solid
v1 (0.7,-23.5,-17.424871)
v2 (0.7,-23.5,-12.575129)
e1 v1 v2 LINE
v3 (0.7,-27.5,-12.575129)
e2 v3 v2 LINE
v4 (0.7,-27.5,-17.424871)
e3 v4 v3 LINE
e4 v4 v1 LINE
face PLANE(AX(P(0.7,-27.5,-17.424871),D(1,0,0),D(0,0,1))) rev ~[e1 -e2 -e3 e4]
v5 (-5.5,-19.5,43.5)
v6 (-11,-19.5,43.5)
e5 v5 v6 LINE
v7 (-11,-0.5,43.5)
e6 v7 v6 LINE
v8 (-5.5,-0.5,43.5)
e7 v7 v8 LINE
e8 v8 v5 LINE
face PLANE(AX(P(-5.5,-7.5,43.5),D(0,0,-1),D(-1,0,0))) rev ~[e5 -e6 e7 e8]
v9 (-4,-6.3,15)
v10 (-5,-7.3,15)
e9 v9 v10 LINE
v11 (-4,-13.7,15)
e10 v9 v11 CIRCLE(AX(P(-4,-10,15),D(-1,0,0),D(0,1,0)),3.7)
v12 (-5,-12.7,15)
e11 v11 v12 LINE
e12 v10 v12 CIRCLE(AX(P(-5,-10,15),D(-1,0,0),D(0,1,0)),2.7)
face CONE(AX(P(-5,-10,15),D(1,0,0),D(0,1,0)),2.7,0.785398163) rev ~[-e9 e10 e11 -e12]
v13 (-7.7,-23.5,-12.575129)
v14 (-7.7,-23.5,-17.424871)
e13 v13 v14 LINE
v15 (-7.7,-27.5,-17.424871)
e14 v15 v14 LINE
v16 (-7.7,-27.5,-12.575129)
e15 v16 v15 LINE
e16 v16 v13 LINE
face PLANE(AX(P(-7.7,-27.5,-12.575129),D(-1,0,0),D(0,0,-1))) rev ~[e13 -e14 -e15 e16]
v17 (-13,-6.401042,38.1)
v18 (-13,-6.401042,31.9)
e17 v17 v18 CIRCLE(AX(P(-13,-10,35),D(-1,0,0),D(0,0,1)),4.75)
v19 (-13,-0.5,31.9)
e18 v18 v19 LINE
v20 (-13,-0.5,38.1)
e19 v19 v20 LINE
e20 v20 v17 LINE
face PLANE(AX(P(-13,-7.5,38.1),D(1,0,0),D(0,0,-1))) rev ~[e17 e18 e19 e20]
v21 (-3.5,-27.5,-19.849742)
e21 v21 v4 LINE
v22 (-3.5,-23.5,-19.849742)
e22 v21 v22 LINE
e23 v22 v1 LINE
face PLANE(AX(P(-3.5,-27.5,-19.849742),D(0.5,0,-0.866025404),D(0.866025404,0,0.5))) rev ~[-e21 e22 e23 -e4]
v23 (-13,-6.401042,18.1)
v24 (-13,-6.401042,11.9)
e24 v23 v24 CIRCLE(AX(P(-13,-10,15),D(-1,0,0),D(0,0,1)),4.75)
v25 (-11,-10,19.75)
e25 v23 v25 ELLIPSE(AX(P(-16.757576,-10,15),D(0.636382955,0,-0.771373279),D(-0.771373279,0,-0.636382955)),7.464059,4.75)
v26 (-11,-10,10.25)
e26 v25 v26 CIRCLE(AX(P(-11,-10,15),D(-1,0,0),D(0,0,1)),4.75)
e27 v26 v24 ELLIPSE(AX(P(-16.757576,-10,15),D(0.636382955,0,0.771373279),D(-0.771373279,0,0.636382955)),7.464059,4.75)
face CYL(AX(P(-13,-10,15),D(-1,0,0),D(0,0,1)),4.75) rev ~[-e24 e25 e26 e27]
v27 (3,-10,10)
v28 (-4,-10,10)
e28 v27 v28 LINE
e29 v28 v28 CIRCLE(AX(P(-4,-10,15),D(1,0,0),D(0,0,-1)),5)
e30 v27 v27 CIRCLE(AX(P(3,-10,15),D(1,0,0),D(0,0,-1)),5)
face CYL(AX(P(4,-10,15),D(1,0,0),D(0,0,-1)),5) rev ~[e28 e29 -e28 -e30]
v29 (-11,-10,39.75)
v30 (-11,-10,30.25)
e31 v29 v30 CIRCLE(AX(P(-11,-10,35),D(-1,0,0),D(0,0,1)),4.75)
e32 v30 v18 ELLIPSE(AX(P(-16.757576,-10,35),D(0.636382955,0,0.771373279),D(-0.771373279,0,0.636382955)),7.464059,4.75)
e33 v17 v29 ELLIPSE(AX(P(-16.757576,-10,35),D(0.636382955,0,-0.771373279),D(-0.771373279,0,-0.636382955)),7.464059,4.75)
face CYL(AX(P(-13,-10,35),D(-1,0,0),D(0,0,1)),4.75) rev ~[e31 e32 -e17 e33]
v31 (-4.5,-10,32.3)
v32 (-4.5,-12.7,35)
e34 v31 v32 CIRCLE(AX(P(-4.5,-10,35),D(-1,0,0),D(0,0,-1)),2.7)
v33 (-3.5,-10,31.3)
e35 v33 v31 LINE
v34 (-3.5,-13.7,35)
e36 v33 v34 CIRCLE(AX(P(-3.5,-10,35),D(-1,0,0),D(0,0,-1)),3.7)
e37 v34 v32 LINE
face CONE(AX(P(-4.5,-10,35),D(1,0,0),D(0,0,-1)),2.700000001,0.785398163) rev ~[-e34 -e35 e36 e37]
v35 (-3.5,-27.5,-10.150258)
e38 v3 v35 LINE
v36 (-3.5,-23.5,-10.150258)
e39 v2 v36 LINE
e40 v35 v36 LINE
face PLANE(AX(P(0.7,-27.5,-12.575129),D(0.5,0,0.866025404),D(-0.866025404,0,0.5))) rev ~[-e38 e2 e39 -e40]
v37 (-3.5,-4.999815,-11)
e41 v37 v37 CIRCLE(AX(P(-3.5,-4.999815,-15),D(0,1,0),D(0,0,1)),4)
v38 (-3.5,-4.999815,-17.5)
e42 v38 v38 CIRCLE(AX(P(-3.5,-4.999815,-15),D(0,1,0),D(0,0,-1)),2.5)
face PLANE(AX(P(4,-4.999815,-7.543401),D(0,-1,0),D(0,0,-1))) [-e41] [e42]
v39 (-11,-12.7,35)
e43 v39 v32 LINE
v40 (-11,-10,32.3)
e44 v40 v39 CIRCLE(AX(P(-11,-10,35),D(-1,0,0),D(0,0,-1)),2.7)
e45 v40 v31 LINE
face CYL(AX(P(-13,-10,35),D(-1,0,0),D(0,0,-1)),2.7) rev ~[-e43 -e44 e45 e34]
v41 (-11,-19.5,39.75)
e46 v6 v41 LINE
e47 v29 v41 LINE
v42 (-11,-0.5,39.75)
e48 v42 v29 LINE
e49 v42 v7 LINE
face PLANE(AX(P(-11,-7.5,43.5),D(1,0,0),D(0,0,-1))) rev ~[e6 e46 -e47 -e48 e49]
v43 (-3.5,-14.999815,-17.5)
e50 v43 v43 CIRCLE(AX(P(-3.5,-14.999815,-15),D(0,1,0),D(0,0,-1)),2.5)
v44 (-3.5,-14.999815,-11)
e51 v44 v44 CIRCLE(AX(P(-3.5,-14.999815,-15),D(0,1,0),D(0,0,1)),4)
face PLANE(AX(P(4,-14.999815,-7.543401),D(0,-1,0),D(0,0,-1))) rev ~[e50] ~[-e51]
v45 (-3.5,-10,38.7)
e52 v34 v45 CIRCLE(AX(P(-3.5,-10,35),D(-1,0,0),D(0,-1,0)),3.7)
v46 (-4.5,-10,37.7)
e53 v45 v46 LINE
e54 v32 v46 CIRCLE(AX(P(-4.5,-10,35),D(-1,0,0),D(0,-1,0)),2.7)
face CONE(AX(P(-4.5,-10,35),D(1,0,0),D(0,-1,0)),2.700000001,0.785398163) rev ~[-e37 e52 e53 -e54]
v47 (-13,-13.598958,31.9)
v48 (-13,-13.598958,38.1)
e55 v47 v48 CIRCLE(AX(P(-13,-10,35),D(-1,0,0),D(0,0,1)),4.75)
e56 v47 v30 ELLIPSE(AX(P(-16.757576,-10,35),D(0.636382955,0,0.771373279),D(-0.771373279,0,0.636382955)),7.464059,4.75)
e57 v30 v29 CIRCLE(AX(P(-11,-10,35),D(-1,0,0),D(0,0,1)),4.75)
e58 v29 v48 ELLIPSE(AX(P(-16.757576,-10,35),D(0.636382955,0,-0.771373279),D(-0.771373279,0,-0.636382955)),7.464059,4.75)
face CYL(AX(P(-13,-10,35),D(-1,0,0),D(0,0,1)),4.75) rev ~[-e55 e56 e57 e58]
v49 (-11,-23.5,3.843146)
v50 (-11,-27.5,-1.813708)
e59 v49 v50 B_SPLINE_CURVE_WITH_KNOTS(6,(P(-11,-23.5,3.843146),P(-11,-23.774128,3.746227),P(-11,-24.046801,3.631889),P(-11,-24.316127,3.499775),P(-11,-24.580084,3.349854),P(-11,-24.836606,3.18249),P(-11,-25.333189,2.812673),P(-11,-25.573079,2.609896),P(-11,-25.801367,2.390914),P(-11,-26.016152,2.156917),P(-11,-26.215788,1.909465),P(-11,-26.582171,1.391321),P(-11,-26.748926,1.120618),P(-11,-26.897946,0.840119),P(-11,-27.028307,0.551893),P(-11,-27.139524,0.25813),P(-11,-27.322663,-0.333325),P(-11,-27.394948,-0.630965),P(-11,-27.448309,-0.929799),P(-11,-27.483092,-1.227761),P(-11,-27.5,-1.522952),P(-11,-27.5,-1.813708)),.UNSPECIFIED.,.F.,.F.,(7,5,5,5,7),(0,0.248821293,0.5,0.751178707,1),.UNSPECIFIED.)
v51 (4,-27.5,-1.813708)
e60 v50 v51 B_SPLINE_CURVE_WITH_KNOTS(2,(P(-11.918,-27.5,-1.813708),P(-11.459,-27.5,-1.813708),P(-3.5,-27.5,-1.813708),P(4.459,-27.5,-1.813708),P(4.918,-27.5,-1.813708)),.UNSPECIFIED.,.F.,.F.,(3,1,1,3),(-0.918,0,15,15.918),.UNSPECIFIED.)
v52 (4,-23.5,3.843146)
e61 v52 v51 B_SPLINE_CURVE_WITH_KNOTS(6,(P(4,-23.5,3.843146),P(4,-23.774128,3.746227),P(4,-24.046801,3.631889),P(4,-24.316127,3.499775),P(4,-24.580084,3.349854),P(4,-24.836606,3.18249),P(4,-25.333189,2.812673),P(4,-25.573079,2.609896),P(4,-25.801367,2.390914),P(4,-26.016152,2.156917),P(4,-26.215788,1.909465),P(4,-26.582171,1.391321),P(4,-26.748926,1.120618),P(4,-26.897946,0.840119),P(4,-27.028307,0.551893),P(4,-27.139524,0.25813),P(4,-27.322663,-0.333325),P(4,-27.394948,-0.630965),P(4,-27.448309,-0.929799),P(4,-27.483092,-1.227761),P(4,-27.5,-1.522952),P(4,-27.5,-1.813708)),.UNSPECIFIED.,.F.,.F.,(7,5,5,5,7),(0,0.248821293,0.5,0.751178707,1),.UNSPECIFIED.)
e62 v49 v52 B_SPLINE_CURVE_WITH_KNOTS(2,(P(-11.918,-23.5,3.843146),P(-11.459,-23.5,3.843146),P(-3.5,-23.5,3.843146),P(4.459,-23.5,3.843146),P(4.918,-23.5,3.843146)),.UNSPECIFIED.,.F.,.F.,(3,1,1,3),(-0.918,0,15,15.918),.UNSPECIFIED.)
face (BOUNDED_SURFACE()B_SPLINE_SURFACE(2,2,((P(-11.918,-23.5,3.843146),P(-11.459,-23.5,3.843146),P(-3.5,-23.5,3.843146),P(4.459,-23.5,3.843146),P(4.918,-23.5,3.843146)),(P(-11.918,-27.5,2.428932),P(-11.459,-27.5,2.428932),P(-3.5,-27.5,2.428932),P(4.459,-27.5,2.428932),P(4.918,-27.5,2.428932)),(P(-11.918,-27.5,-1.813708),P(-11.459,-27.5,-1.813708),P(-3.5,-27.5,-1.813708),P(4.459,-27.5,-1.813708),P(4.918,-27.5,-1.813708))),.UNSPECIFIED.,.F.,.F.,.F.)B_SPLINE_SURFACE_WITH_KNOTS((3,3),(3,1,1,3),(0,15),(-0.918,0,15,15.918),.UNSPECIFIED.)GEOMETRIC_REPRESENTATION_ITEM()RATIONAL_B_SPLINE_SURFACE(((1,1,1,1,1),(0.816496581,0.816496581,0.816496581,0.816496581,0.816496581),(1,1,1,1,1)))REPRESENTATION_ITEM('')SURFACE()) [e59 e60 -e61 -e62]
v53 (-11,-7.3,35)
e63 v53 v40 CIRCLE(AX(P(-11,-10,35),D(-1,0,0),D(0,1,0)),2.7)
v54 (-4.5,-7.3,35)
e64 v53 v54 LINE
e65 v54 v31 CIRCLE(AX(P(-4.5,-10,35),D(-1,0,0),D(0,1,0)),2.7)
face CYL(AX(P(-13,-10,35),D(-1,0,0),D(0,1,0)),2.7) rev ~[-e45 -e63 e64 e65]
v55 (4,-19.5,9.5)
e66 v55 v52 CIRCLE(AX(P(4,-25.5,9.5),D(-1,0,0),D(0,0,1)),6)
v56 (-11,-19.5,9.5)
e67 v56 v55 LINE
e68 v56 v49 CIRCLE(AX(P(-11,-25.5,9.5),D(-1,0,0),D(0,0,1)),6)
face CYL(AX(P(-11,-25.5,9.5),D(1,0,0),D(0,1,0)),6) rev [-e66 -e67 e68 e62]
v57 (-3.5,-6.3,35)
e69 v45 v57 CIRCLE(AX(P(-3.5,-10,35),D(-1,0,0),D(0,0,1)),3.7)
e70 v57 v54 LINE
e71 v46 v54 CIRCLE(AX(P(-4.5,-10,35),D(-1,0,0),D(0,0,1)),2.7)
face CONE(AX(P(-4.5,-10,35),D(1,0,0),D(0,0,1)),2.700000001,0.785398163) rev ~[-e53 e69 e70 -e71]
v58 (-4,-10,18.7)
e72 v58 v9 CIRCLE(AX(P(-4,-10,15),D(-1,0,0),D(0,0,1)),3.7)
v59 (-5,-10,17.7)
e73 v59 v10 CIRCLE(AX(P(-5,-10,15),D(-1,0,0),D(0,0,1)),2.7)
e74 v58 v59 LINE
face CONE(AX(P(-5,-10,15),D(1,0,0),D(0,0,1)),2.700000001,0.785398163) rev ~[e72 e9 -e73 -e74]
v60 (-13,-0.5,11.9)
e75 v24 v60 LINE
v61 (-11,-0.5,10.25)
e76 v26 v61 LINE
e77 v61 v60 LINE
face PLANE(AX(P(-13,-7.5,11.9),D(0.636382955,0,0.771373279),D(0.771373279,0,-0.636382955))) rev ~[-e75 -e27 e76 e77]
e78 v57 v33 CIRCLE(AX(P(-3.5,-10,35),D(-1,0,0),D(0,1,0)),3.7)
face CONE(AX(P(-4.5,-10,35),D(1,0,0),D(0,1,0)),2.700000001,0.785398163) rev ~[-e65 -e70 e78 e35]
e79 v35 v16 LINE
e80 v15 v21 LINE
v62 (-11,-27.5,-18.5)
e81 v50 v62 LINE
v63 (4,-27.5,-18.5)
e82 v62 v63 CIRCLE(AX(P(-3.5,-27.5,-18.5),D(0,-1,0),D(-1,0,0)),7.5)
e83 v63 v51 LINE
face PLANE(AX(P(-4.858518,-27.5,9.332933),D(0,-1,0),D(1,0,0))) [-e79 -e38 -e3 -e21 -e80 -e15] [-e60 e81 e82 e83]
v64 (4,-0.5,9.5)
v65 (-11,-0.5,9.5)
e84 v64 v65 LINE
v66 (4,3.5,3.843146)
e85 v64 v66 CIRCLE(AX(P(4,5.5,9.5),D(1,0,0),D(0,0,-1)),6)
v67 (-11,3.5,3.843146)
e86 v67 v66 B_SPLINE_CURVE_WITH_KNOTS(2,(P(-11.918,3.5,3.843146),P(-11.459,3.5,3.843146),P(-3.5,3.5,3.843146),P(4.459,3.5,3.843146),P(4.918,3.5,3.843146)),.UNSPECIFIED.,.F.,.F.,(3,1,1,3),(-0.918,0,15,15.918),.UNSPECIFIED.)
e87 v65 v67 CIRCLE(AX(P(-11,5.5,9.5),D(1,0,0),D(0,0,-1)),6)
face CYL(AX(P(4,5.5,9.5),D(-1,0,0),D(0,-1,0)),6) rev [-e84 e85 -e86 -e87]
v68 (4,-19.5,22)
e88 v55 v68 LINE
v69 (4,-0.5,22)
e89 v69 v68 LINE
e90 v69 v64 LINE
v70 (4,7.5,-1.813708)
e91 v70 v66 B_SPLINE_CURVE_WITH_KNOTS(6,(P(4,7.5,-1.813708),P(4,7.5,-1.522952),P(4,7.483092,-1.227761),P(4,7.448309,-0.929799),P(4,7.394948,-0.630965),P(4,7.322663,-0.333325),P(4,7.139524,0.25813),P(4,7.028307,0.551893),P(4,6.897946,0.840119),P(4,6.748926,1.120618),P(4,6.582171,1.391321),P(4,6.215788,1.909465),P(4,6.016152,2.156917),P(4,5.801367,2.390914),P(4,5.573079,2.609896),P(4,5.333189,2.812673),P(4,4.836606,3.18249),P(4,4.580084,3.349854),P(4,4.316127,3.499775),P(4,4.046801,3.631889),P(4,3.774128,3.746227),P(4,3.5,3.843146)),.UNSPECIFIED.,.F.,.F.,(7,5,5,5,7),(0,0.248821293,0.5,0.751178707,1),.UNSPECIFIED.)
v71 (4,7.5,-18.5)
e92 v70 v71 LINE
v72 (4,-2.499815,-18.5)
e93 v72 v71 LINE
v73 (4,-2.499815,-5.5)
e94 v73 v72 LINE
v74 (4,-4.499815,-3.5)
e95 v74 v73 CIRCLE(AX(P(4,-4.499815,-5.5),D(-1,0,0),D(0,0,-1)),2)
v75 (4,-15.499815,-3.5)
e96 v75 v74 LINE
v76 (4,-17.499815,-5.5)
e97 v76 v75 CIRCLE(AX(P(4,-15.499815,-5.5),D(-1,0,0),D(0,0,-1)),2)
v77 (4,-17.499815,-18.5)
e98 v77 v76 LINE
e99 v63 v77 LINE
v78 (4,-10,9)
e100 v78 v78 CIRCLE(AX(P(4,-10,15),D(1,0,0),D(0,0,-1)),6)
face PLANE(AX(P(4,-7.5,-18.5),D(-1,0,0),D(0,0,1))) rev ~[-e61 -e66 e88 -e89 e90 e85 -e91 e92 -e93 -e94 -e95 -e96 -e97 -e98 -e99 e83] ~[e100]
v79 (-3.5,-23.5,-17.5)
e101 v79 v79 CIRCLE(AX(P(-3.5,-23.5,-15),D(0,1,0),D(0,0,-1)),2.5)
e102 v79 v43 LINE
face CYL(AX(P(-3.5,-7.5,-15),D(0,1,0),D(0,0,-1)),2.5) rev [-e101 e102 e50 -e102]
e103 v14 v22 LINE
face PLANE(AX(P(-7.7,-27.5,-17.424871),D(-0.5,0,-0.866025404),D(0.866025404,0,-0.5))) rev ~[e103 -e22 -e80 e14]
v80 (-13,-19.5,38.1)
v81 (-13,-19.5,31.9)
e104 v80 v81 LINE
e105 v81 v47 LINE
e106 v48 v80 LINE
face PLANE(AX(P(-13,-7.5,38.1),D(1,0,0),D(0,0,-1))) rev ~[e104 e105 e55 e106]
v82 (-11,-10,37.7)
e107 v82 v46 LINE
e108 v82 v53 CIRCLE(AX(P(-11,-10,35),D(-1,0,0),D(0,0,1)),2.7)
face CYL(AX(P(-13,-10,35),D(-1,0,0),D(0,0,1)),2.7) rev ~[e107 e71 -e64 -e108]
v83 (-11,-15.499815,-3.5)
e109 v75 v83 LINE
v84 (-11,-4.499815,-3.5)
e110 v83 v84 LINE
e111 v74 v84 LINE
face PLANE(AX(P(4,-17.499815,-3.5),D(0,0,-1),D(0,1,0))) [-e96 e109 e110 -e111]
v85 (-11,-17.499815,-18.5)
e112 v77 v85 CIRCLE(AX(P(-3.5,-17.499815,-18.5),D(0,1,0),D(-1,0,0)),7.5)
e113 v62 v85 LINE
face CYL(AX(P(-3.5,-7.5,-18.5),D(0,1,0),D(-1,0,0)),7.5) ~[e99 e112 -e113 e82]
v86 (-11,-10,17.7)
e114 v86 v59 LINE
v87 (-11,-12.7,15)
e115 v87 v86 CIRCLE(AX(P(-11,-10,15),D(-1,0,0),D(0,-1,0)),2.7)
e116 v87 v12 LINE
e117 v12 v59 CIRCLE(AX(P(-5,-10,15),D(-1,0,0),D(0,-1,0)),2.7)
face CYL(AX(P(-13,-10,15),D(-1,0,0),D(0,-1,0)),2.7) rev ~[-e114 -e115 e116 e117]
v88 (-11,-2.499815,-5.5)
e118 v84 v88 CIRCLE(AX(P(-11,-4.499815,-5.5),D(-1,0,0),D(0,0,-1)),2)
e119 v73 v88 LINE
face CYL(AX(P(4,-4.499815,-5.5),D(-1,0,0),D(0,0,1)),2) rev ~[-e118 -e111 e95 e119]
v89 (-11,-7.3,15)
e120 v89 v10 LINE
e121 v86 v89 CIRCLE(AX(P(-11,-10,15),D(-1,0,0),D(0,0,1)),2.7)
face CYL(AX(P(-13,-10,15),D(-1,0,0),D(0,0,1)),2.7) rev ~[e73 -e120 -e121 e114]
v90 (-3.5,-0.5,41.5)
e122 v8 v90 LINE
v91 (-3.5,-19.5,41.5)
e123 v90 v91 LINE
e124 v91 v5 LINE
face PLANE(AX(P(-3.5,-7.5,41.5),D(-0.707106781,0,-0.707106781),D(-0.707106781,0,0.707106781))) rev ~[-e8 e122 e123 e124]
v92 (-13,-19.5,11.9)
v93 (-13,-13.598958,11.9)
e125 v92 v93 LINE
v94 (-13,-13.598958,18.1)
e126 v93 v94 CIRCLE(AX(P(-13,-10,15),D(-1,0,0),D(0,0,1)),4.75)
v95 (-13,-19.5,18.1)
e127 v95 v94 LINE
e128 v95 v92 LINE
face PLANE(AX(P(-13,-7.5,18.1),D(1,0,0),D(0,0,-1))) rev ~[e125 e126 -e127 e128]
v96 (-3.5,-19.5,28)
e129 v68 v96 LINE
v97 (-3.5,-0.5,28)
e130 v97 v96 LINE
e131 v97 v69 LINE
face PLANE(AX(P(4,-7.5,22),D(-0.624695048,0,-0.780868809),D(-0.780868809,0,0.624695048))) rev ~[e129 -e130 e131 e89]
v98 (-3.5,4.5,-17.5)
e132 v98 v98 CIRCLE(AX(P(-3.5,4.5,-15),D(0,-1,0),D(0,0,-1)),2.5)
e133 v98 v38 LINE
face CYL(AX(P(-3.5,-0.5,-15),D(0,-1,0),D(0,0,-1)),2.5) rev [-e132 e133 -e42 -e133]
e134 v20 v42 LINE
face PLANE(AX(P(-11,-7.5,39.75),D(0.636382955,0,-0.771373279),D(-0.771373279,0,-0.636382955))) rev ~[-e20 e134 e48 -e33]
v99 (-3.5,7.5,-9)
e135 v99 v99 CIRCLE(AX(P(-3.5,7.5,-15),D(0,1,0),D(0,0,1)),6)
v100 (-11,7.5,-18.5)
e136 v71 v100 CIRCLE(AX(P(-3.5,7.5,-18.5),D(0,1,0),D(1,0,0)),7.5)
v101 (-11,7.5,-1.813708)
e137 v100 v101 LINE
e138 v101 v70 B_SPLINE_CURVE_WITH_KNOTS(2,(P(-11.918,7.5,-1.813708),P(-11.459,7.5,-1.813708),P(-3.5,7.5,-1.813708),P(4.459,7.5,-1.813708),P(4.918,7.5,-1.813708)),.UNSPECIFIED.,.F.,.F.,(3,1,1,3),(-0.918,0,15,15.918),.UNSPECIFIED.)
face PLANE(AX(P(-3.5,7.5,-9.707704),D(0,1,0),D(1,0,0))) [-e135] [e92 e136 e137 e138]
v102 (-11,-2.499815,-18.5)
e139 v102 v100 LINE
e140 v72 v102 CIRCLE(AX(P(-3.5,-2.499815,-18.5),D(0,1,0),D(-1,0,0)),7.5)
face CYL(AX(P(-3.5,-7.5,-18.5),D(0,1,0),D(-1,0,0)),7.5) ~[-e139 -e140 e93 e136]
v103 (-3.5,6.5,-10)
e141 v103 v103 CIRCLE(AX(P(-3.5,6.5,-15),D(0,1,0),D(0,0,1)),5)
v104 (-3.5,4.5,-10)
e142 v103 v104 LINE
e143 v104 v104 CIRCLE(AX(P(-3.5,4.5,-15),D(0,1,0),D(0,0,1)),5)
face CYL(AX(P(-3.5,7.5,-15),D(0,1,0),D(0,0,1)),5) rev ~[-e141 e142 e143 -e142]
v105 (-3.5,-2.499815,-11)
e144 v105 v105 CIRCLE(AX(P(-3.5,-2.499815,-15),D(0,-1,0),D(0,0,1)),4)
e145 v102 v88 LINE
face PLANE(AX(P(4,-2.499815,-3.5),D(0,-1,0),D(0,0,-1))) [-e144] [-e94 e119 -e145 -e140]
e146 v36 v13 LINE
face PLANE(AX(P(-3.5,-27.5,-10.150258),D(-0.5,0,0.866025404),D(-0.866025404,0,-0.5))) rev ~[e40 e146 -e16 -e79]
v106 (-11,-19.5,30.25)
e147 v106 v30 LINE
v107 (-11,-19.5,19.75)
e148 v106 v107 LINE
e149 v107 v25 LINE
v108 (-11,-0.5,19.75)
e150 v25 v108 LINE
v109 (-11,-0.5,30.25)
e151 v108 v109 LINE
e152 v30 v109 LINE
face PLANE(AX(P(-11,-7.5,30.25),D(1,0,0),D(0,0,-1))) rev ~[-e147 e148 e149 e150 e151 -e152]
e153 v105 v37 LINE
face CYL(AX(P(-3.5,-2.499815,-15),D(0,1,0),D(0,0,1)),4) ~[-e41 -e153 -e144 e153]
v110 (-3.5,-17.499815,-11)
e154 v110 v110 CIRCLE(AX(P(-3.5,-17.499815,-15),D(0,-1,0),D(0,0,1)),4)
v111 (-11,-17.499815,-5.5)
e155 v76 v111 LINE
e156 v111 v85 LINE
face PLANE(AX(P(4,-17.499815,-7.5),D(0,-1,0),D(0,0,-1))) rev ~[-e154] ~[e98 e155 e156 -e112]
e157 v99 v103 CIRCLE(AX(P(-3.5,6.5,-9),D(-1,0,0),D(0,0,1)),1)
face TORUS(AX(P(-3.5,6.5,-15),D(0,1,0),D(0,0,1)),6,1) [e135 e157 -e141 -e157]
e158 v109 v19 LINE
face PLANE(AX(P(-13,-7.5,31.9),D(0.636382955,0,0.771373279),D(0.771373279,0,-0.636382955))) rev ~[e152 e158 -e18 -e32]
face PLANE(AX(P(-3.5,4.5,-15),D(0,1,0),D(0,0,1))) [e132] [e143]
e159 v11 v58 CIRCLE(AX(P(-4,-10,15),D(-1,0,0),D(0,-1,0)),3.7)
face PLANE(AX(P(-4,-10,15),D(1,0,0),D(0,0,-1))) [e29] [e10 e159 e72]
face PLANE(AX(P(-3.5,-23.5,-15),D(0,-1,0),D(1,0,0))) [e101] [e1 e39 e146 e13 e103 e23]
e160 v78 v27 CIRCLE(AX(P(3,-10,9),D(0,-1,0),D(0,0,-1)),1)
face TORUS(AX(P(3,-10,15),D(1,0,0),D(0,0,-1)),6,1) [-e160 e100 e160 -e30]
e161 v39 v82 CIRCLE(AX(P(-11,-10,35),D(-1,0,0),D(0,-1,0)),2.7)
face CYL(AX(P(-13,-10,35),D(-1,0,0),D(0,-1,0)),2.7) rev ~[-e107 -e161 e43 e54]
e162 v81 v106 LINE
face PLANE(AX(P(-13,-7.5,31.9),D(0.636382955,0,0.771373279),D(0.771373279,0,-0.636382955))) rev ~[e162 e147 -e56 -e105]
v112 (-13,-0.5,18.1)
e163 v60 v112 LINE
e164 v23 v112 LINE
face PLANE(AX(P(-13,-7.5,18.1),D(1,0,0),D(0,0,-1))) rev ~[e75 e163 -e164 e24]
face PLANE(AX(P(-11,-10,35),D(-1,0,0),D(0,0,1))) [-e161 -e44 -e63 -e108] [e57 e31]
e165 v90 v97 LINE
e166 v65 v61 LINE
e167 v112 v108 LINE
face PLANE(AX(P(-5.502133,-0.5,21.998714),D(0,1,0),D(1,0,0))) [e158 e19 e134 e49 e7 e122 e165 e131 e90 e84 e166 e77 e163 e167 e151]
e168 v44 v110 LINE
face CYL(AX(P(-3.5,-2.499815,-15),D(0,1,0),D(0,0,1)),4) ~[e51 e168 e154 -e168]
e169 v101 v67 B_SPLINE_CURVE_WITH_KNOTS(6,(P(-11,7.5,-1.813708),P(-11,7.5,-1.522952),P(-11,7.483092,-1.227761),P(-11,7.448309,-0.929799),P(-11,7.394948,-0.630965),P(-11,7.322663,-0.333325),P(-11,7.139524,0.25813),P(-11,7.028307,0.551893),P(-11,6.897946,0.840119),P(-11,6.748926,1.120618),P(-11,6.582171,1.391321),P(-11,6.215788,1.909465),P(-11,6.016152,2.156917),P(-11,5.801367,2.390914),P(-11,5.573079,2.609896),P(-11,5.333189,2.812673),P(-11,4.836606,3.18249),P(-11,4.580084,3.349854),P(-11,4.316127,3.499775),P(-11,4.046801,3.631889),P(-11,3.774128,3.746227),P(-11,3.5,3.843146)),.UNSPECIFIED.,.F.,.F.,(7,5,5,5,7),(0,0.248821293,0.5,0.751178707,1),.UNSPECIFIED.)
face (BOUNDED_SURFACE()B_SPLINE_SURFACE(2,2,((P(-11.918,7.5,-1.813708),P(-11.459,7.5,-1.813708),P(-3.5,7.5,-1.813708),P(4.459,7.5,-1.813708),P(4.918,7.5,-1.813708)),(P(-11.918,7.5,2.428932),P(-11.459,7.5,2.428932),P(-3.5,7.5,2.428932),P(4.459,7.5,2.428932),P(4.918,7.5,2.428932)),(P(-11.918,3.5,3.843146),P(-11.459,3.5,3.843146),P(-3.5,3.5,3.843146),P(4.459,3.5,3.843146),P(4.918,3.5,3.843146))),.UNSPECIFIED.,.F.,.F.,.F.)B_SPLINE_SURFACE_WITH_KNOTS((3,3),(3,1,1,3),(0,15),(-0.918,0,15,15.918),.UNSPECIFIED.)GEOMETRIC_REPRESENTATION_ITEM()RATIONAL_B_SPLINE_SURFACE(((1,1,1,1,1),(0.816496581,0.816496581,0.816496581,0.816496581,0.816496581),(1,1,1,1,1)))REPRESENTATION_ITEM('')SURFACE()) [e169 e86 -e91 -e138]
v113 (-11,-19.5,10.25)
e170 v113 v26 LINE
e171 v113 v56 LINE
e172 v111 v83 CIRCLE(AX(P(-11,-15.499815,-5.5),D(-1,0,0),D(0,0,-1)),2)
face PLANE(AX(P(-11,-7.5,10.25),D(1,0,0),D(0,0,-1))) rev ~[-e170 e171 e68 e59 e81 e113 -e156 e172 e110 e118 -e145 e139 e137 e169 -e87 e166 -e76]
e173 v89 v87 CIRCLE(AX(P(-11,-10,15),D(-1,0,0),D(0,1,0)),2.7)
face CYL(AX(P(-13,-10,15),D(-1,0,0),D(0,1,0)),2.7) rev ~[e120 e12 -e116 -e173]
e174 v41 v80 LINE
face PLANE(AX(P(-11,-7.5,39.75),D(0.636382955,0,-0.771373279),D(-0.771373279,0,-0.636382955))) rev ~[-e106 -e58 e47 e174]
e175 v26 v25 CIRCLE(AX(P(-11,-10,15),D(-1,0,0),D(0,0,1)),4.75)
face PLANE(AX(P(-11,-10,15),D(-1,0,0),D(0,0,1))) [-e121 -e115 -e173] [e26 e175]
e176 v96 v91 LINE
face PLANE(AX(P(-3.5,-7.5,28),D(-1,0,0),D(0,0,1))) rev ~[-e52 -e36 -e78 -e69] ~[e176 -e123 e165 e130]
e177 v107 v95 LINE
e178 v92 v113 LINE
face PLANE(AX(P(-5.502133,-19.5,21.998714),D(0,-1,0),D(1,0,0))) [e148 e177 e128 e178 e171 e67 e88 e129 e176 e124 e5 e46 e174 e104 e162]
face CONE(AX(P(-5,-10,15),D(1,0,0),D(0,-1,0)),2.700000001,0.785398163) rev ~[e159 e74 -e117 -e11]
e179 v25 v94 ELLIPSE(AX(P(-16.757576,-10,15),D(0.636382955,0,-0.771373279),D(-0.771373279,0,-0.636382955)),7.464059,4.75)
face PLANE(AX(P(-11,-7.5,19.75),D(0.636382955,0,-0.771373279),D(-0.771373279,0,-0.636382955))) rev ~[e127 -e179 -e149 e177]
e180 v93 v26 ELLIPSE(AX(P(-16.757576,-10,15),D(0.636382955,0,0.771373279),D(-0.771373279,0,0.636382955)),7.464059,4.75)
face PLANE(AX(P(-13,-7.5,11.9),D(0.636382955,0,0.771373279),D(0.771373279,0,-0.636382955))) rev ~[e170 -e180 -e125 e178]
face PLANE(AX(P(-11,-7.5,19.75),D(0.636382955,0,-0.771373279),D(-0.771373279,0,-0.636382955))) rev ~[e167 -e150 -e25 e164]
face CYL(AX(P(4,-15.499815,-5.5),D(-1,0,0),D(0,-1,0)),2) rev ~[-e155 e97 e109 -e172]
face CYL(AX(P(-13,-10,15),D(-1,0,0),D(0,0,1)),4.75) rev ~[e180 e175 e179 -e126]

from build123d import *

# Parameters (mm, degrees)
SKETCH_1_W               = 59
SKETCH_1_H               = 15
EXTRUDE_1_DEPTH          = 5
SKETCH_2_R               = 2.5
CUT_EXTRUDE_1_DEPTH      = 31.84639363
SKETCH_3_W               = 9.5
SKETCH_3_H               = 15
EXTRUDE_2_DEPTH          = 2
CUT_EXTRUDE_2_DEPTH      = 34.826764551
CUT_EXTRUDE_2_DEPTH_BACK = 34.826764551
SKETCH_5_R               = 2.5
CUT_EXTRUDE_3_DEPTH      = 32.232995373
SKETCH_7_R               = 2.5
CUT_EXTRUDE_4_DEPTH      = 32.232995373
SKETCH_8_W               = 15
SKETCH_8_H               = 15
EXTRUDE_3_DEPTH          = 38.5
SKETCH_13_W              = 9.5
SKETCH_13_H              = 15
EXTRUDE_4_DEPTH          = 2
CUT_EXTRUDE_5_DEPTH      = 55.658027773
SKETCH_15_R              = 2.5
CUT_EXTRUDE_6_DEPTH      = 62.276014883
CUT_EXTRUDE_7_DEPTH      = 55.658027773
CHAMFER_1_SIZE           = 2
CHAMFER_2_SIZE           = 2
CHAMFER_3_SIZE           = 1
CHAMFER_4_SIZE           = 1
CHAMFER_5_SIZE           = 1
CHAMFER_6_SIZE           = 1
CUT_EXTRUDE_8_DEPTH      = 55.658027773
EXTRUDE_5_DEPTH          = 15
SKETCH_19_R              = 2.5
CUT_EXTRUDE_9_DEPTH      = 62.276014883
SKETCH_20_R              = 4
CUT_EXTRUDE_10_DEPTH     = 5
EXTRUDE_6_DEPTH          = 15
CUT_EXTRUDE_11_DEPTH     = 15
SKETCH_23_R              = 11
CUT_EXTRUDE_12_DEPTH     = 55.658027773
FILLET_2_R               = 7
SKETCH_24_W              = 4
SKETCH_24_H              = 15
CUT_EXTRUDE_14_DEPTH     = 55.658027773
EXTRUDE_7_DEPTH          = 15
SKETCH_26_R              = 2.5
CUT_EXTRUDE_15_DEPTH     = 55.658027773
FILLET_3_RADIUS          = 7.5
FILLET_3_LENGTH          = 15
SKETCH_27_W              = 25.515520857
SKETCH_27_H              = 10.25
CUT_EXTRUDE_16_DEPTH     = 55.658027773
SKETCH_29_R              = 2.65
CUT_EXTRUDE_17_DEPTH     = 48.302219821
SKETCH_30_R              = 2.5
EXTRUDE_8_DEPTH          = 20
SKETCH_31_W              = 11
SKETCH_31_H              = 15
CUT_EXTRUDE_18_DEPTH     = 55.198708472
EXTRUDE_9_REACH          = 56.199
SKETCH_35_R              = 3
SKETCH_35_R_2            = 2.75
SKETCH_36_W              = 10.932925362
SKETCH_36_H              = 11.739598214
EXTRUDE_10_DEPTH         = 4
SKETCH_37_R              = 4.898045624
CUT_EXTRUDE_19_DEPTH     = 7.5
CUT_EXTRUDE_20_DEPTH     = 8
CUT_EXTRUDE_21_DEPTH     = 8
SKETCH_39_W              = 7.820563766
SKETCH_39_H              = 12.633218391
EXTRUDE_11_DEPTH         = 8
CUT_EXTRUDE_22_DEPTH     = 55.198708472
SKETCH_41_R              = 5
CUT_EXTRUDE_23_DEPTH     = 8
FILLET_4_R               = 1
CHAMFER_8_SIZE           = 1
FILLET_6_R               = 6
SKETCH_43_W              = 13
SKETCH_43_H              = 15
CUT_EXTRUDE_25_DEPTH     = 55.198708472
SKETCH_46_W              = 2
SKETCH_46_H              = 15
CUT_EXTRUDE_26_DEPTH     = 55.198708472
FILLET_8_R               = 2
SKETCH_48_R              = 4
SKETCH_48_R_2            = 2.5
EXTRUDE_12_DEPTH         = 15
SKETCH_49_W              = 15.94941223
SKETCH_49_H              = 10
CUT_EXTRUDE_27_DEPTH     = 55.198708472
EXTRUDE_14_DEPTH         = 8
EXTRUDE_14_DEPTH_BACK    = 8
SKETCH_51_R              = 2.5
SKETCH_52_R              = 2.5
CUT_EXTRUDE_28_DEPTH     = 8
FILLET_9_R               = 6
SKETCH_54_R              = 4.75
CUT_EXTRUDE_29_DEPTH     = 2
CUT_EXTRUDE_30_DEPTH     = 4
SKETCH_56_R              = 5
CUT_EXTRUDE_31_DEPTH     = 3
FILLET_10_R              = 1


with BuildPart() as part:
    # Эскиз1 → Бобышка-Вытянуть1 (new body)
    with BuildSketch(Plane.XY):
        Rectangle(SKETCH_1_W, SKETCH_1_H)
    extrude(amount=EXTRUDE_1_DEPTH)

    # Эскиз2 → Вырез-Вытянуть1 (cut, through all)
    with BuildSketch(Plane(origin=(0, 0, 0), x_dir=(-1, 0, 0), z_dir=(0, 0, -1))):
        with BuildLine():
            ThreePointArc((23.5, 0), (21, 2.5), (18.5, 0))
            Line((18.5, 0), (21, 0))
            Line((21, 0), (23.5, 0))
        make_face()
        with BuildLine():
            Line((21, 0), (18.5, 0))
            ThreePointArc((18.5, 0), (21, -2.5), (23.5, 0))
            Line((23.5, 0), (21, 0))
        make_face()
        with Locations((-21, 0)):
            Circle(SKETCH_2_R)
    extrude(amount=-CUT_EXTRUDE_1_DEPTH, mode=Mode.SUBTRACT)

    # Эскиз3 → Бобышка-Вытянуть2 (add)
    with BuildSketch(Plane.XY.offset(5)):
        with Locations((-21, 0)):
            Rectangle(SKETCH_3_W, SKETCH_3_H)
        with Locations((21, 0)):
            Rectangle(SKETCH_3_W, SKETCH_3_H)
    extrude(amount=EXTRUDE_2_DEPTH)

    # Эскиз4 → Вырез-Вытянуть2 (cut, two sides: drawn at the far end of the back side and taken through both)
    with BuildSketch(Plane.XZ.offset(7.5).offset(-CUT_EXTRUDE_2_DEPTH_BACK)):
        Polygon((-16.25, 7), (-17.9, 7), (-16.25, 5), align=None)
        Polygon((-25.75, 5), (-24.1, 7), (-25.75, 7), align=None)
    extrude(amount=CUT_EXTRUDE_2_DEPTH + CUT_EXTRUDE_2_DEPTH_BACK, mode=Mode.SUBTRACT)

    # Эскиз5 → Вырез-Вытянуть3 (cut, through all)
    with BuildSketch(Plane(origin=(0, 0, 0), x_dir=(-1, 0, 0), z_dir=(0, 0, -1))):
        with Locations((21, 0)):
            Circle(SKETCH_5_R)
    extrude(amount=-CUT_EXTRUDE_3_DEPTH, mode=Mode.SUBTRACT)

    # Эскиз7 → Вырез-Вытянуть4 (cut, through all)
    with BuildSketch(Plane(origin=(0, 0, 0), x_dir=(-1, 0, 0), z_dir=(0, 0, -1))):
        with Locations((-21, 0)):
            Circle(SKETCH_7_R)
    extrude(amount=-CUT_EXTRUDE_4_DEPTH, mode=Mode.SUBTRACT)

    # Эскиз8 → Бобышка-Вытянуть3 (add)
    with BuildSketch(Plane.XY.offset(5)):
        with Locations((-3.5, 0)):
            Rectangle(SKETCH_8_W, SKETCH_8_H)
    extrude(amount=EXTRUDE_3_DEPTH)

    # Эскиз13 → Бобышка-Вытянуть4 (add)
    with BuildSketch(Plane.ZY.offset(11)):
        with Locations((15, 0)):
            Rectangle(SKETCH_13_W, SKETCH_13_H)
        with Locations((35, 0)):
            Rectangle(SKETCH_13_W, SKETCH_13_H)
    extrude(amount=EXTRUDE_4_DEPTH)

    # Эскиз14 → Вырез-Вытянуть5 (cut, through all)
    with BuildSketch(Plane.XZ.offset(7.5)):
        Polygon((-13, 39.75), (-13, 38.1), (-11, 39.75), align=None)
        Polygon((-11, 30.25), (-13, 31.9), (-13, 30.25), align=None)
        Polygon((-13, 19.75), (-13, 18.1), (-11, 19.75), align=None)
        Polygon((-11, 10.25), (-13, 11.9), (-13, 10.25), align=None)
    extrude(amount=-CUT_EXTRUDE_5_DEPTH, mode=Mode.SUBTRACT)

    # Эскиз15 → Вырез-Вытянуть6 (cut, through all)
    with BuildSketch(Plane.ZY.offset(13)):
        with Locations((15, 0)):
            Circle(SKETCH_15_R)
        with Locations((35, 0)):
            Circle(SKETCH_15_R)
    extrude(amount=-CUT_EXTRUDE_6_DEPTH, mode=Mode.SUBTRACT)

    # Эскиз16 → Вырез-Вытянуть7 (cut, through all)
    with BuildSketch(Plane(origin=(0, 7.5, 0), x_dir=(1, 0, 0), z_dir=(0, 1, 0))):
        Polygon((4, -43.5), (4, -22), (-3.5, -28), (-3.5, -43.5), align=None)
    extrude(amount=-CUT_EXTRUDE_7_DEPTH, mode=Mode.SUBTRACT)

    # Фаска1
    chamfer_1_edges = [part.edges().sort_by_distance(p)[0] for p in [
        (-3.5, 0, 43.5),
    ]]
    chamfer(chamfer_1_edges, length=CHAMFER_1_SIZE)

    # Фаска2
    chamfer_2_edges = [part.edges().sort_by_distance(p)[0] for p in [
        (29.5, 0, 5),
    ]]
    chamfer(chamfer_2_edges, length=CHAMFER_2_SIZE)

    # Фаска3
    chamfer_3_edges = [part.edges().sort_by_distance(p)[0] for p in [
        (25.75, 0, 7),
    ]]
    chamfer(chamfer_3_edges, length=CHAMFER_3_SIZE)

    # Фаска4
    chamfer_4_edges = [part.edges().sort_by_distance(p)[0] for p in [
        (16.25, 0, 7),
    ]]
    chamfer(chamfer_4_edges, length=CHAMFER_4_SIZE)

    # Фаска5
    chamfer_5_edges = [part.edges().sort_by_distance(p)[0] for p in [
        (29.5, 0, 0),
    ]]
    chamfer(chamfer_5_edges, length=CHAMFER_5_SIZE)

    # Фаска6
    chamfer_6_edges = [part.edges().sort_by_distance(p)[0] for p in [
        (-29.5, 0, 0),
    ]]
    chamfer(chamfer_6_edges, length=CHAMFER_6_SIZE)

    # Эскиз17 → Вырез-Вытянуть8 (cut, through all)
    with BuildSketch(Plane.XZ.offset(7.5)):
        Polygon((-11, 5), (4, 5), (4, 22), (-3.5, 28), (-3.5, 41.5), (-5.5, 43.5), (-11, 43.5), (-11, 39.75), (-13, 38.1), (-13, 31.9), (-11, 30.25), (-11, 19.75), (-13, 18.1), (-13, 11.9), (-11, 10.25), align=None)
    extrude(amount=-CUT_EXTRUDE_8_DEPTH, mode=Mode.SUBTRACT)

    # Эскиз18 → Бобышка-Вытянуть5 (add)
    with BuildSketch(Plane.XZ.offset(7.5)):
        Polygon((-11, 5), (4, 5), (4, 22), (-3.5, 28), (-3.5, 41.5), (-5.5, 43.5), (-11, 43.5), (-11, 39.75), (-13, 38.1), (-13, 31.9), (-11, 30.25), (-11, 19.75), (-13, 18.1), (-13, 11.9), (-11, 10.25), align=None)
    extrude(amount=-EXTRUDE_5_DEPTH)

    # Эскиз19 → Вырез-Вытянуть9 (cut, through all)
    with BuildSketch(Plane.ZY.offset(13)):
        with Locations((15, 0)):
            Circle(SKETCH_19_R)
        with Locations((35, 0)):
            Circle(SKETCH_19_R)
    extrude(amount=-CUT_EXTRUDE_9_DEPTH, mode=Mode.SUBTRACT)

    # Эскиз20 → Вырез-Вытянуть10 (cut)
    with BuildSketch(Plane(origin=(4, 0, 0), x_dir=(0, 0, -1), z_dir=(1, 0, 0))):
        with Locations((-15, 0)):
            Circle(SKETCH_20_R)
    extrude(amount=-CUT_EXTRUDE_10_DEPTH, mode=Mode.SUBTRACT)

    # Эскиз21 → Бобышка-Вытянуть6 (add)
    with BuildSketch(Plane(origin=(0, 7.5, 0), x_dir=(1, 0, 0), z_dir=(0, 1, 0))):
        with BuildLine():
            Line((15, 15), (15, 0))
            Line((15, 0), (-15, 0))
            Line((-15, 0), (-15, 15))
            ThreePointArc((-15, 15), (0, 30), (15, 15))
        make_face()
    extrude(amount=-EXTRUDE_6_DEPTH)

    # Эскиз22 → Вырез-Вытянуть11 (cut)
    with BuildSketch(Plane(origin=(0, 7.5, 0), x_dir=(1, 0, 0), z_dir=(0, 1, 0))):
        Polygon((15, 0), (15, -5), (16.25, -5), (16.25, -6), (17.25, -7), (24.75, -7), (25.75, -6), (25.75, -5), (27.5, -5), (29.5, -3), (29.5, -1), (28.5, 0), align=None)
    extrude(amount=-CUT_EXTRUDE_11_DEPTH, mode=Mode.SUBTRACT)

    # Эскиз23 → Вырез-Вытянуть12 (cut, through all)
    with BuildSketch(Plane(origin=(0, 7.5, 0), x_dir=(1, 0, 0), z_dir=(0, 1, 0))):
        with Locations(Location((0, 15, 0), (0, 0, 270))):
            Circle(SKETCH_23_R)
    extrude(amount=-CUT_EXTRUDE_12_DEPTH, mode=Mode.SUBTRACT)

    # Скругление2
    fillet_2_edges = [part.edges().sort_by_distance(p)[0] for p in [
        (15, 0, 5),
    ]]
    fillet(fillet_2_edges, radius=FILLET_2_R)

    # Эскиз24 → Вырез-Вытянуть14 (cut, through all)
    with BuildSketch(Plane.XZ.offset(7.5)):
        with BuildLine():
            Line((11, -15), (15, -15))
            Line((15, -15), (15, -2))
            ThreePointArc((15, -2), (12.949747468, 2.949747468), (8, 5))
            Line((8, 5), (4, 5))
            Line((4, 5), (4, -4.753049234))
            ThreePointArc((4, -4.753049234), (9.082951062, -8.795163177), (11, -15))
        make_face()
        with BuildLine():
            ThreePointArc((-10.198039027, -26), (6.001225483, -28.747192175), (15, -15))
            Line((15, -15), (11, -15))
            ThreePointArc((11, -15), (9.082951062, -21.204836823), (4, -25.246950766))
            Line((4, -25.246950766), (4, -26))
            Line((4, -26), (0, -26))
            Line((0, -26), (-10.198039027, -26))
        make_face()
        with BuildLine():
            ThreePointArc((-15, -15), (-13.964240044, -20.477225575), (-11, -25.198039027))
            Line((-11, -25.198039027), (-11, -15))
            Line((-11, -15), (-15, -15))
        make_face()
        with Locations((-13, -7.5)):
            Rectangle(SKETCH_24_W, SKETCH_24_H)
    extrude(amount=-CUT_EXTRUDE_14_DEPTH, mode=Mode.SUBTRACT)


with BuildPart() as cut_extrude_14_piece_1:
    # of the separate pieces the step leaves, piece 1, a body of its own (cut_extrude_14_pieces)
    add(part.part.solids().sort_by_distance((4, 7.5, 22))[0])



with BuildPart() as cut_extrude_14_piece_2:
    # of the separate pieces the step leaves, piece 2, a body of its own (cut_extrude_14_pieces)
    add(part.part.solids().sort_by_distance((-10.198039027, 7.5, -26))[0])


with BuildPart() as cut_extrude_14_piece_3:
    # of the separate pieces the step leaves, piece 3, a body of its own (cut_extrude_14_pieces)
    add(part.part.solids().sort_by_distance((4, 7.5, -26))[0])


with BuildPart() as cut_extrude_14_piece_1_1:
    add(cut_extrude_14_piece_1.part)

    add(cut_extrude_14_piece_2.part)  # Бобышка-Вытянуть7 merges Вырез-Вытянуть14 piece 2

    add(cut_extrude_14_piece_3.part)  # Бобышка-Вытянуть7 merges Вырез-Вытянуть14 piece 3
    # Эскиз25 → Бобышка-Вытянуть7 (add, through all)
    with BuildSketch(Plane.XZ.offset(7.5)):
        Polygon((4, -4.753049234), (4, -26), (-11, -26), (-11, 0), (4, 0), align=None)
    extrude(amount=-EXTRUDE_7_DEPTH)

    # Эскиз26 → Вырез-Вытянуть15 (cut, through all)
    with BuildSketch(Plane.XZ.offset(7.5)):
        with Locations(Location((-3.5, -15, 0), (0, 0, 270))):
            Circle(SKETCH_26_R)
    extrude(amount=-CUT_EXTRUDE_15_DEPTH, mode=Mode.SUBTRACT)

    # Скругление3: full round fillet: the end face becomes a half cylinder, R = half its width
    fillet_3_face = Plane((-3.5, 0, -26), x_dir=(0, -1, 0), z_dir=(0, 0, -1))  # on the end face: x along it, z out of the body
    fillet_3_slab = fillet_3_face.offset(-FILLET_3_RADIUS / 2) * Box(FILLET_3_LENGTH, 2 * FILLET_3_RADIUS, FILLET_3_RADIUS, mode=Mode.PRIVATE)  # the body's end, R deep
    fillet_3_round = Plane((-3.5, 0, -18.5), x_dir=(0, 0, -1), z_dir=(0, -1, 0)) * Cylinder(FILLET_3_RADIUS, FILLET_3_LENGTH, mode=Mode.PRIVATE)  # its axis R under the face
    add(fillet_3_slab - fillet_3_round, mode=Mode.SUBTRACT)

    # Эскиз27 → Вырез-Вытянуть16 (cut, through all)
    with BuildSketch(Plane.XZ.offset(7.5)):
        with Locations((-23.757760429, 5.125)):
            Rectangle(SKETCH_27_W, SKETCH_27_H)
    extrude(amount=-CUT_EXTRUDE_16_DEPTH, mode=Mode.SUBTRACT)

    # Эскиз29 → Вырез-Вытянуть17 (cut, through all)
    with BuildSketch(Plane(origin=(4, 0, 0), x_dir=(0, 0, -1), z_dir=(1, 0, 0))):
        with Locations((-15, 0)):
            Circle(SKETCH_29_R)
        with Locations((-35, 0)):
            Circle(SKETCH_29_R)
    extrude(amount=-CUT_EXTRUDE_17_DEPTH, mode=Mode.SUBTRACT)

    # Эскиз30 → Бобышка-Вытянуть8 (add)
    with BuildSketch(Plane.XZ.offset(7.5)):
        with BuildLine():
            Line((4, -18.5), (4, 22))
            Line((4, 22), (-3.5, 28))
            Line((-3.5, 28), (-3.5, 41.5))
            Line((-3.5, 41.5), (-5.5, 43.5))
            Line((-5.5, 43.5), (-11, 43.5))
            Line((-11, 43.5), (-11, 39.75))
            Line((-11, 39.75), (-13, 38.1))
            Line((-13, 38.1), (-13, 31.9))
            Line((-13, 31.9), (-11, 30.25))
            Line((-11, 30.25), (-11, 19.75))
            Line((-11, 19.75), (-13, 18.1))
            Line((-13, 18.1), (-13, 11.9))
            Line((-13, 11.9), (-11, 10.25))
            Line((-11, 10.25), (-11, -18.5))
            ThreePointArc((-11, -18.5), (-3.5, -26), (4, -18.5))
        make_face()
        with Locations(Location((-3.5, -15, 0), (0, 0, 270))):
            Circle(SKETCH_30_R, mode=Mode.SUBTRACT)
    extrude(amount=EXTRUDE_8_DEPTH)

    # Эскиз31 → Вырез-Вытянуть18 (cut, through all)
    with BuildSketch(Plane(origin=(4, 0, 0), x_dir=(0, 0, -1), z_dir=(1, 0, 0))):
        with Locations((24, -9.999815)):
            Rectangle(SKETCH_31_W, SKETCH_31_H)
        with Locations((13, -9.999815)):
            Rectangle(SKETCH_31_W, SKETCH_31_H)
    extrude(amount=-CUT_EXTRUDE_18_DEPTH, mode=Mode.SUBTRACT)

    # Бобышка-Вытянуть9: up to this face of the body (flat: up to its plane)
    extrude_9_end = Plane(cut_extrude_14_piece_1_1.part.faces().sort_by_distance((-13, -11.131734996, 15))[0])
    # Эскиз35 → Бобышка-Вытянуть9 (add, up to the picked face)
    with BuildSketch(Plane(origin=(4, 0, 0), x_dir=(0, 0, -1), z_dir=(1, 0, 0)), mode=Mode.PRIVATE) as extrude_9_sk1:
        with Locations((-15, 0)):
            Circle(SKETCH_35_R)
    extrude_9_tool1 = split(extrude(extrude_9_sk1.sketch, amount=-EXTRUDE_9_REACH, mode=Mode.PRIVATE), bisect_by=extrude_9_end, keep=Keep.BOTH, mode=Mode.PRIVATE)
    # Эскиз35 → Бобышка-Вытянуть9 (add, up to the picked face)
    with BuildSketch(Plane(origin=(4, 0, 0), x_dir=(0, 0, -1), z_dir=(1, 0, 0)), mode=Mode.PRIVATE) as extrude_9_sk2:
        with Locations((-35, 0)):
            Circle(SKETCH_35_R_2)
    extrude_9_tool2 = split(extrude(extrude_9_sk2.sketch, amount=-EXTRUDE_9_REACH, mode=Mode.PRIVATE), bisect_by=extrude_9_end, keep=Keep.BOTH, mode=Mode.PRIVATE)
    add(extrude_9_tool1.solids().sort_by(Axis((4, 0, 15), (-1, 0, 0)))[0])
    add(extrude_9_tool2.solids().sort_by(Axis((4, 0, 35), (-1, 0, 0)))[0])

    # Эскиз36 → Бобышка-Вытянуть10 (add)
    with BuildSketch(Plane(origin=(4, 0, 0), x_dir=(0, 0, -1), z_dir=(1, 0, 0))):
        with Locations((-15, 0)):
            Rectangle(SKETCH_36_W, SKETCH_36_H)
    extrude(amount=-EXTRUDE_10_DEPTH)

    # Эскиз37 → Вырез-Вытянуть19 (cut)
    with BuildSketch(Plane(origin=(4, 0, 0), x_dir=(0, 0, -1), z_dir=(1, 0, 0))):
        with Locations((-35, 0)):
            Circle(SKETCH_37_R)
    extrude(amount=-CUT_EXTRUDE_19_DEPTH, mode=Mode.SUBTRACT)

    # Эскиз33 → Вырез-Вытянуть20 (cut)
    with BuildSketch(Plane(origin=(0, 7.5, 0), x_dir=(1, 0, 0), z_dir=(0, 1, 0))):
        Polygon((-11, -39.75), (-11, -43.5), (-5.5, -43.5), (-3.5, -41.5), (-3.5, -28), (4, -22), (4, -3.5), (-11, -3.5), (-11, -10.25), (-13, -11.9), (-13, -18.1), (-11, -19.75), (-11, -30.25), (-13, -31.9), (-13, -38.1), align=None)
    extrude(amount=-CUT_EXTRUDE_20_DEPTH, mode=Mode.SUBTRACT)

    # Эскиз38 → Вырез-Вытянуть21 (cut)
    with BuildSketch(Plane.XZ.offset(27.5)):
        Polygon((-5.5, 43.5), (-11, 43.5), (-11, 39.75), (-13, 38.1), (-13, 31.9), (-11, 30.25), (-11, 19.75), (-13, 18.1), (-13, 11.9), (-11, 10.25), (-11, 3.5), (4, 3.5), (4, 22), (-3.5, 28), (-3.5, 41.5), align=None)
    extrude(amount=-CUT_EXTRUDE_21_DEPTH, mode=Mode.SUBTRACT)

    # Эскиз39 → Бобышка-Вытянуть11 (add)
    with BuildSketch(Plane(origin=(0, -0.5, 0), x_dir=(1, 0, 0), z_dir=(0, 1, 0))):
        with Locations((-1.703124284, -13.938643268)):
            Rectangle(SKETCH_39_W, SKETCH_39_H)
    extrude(amount=-EXTRUDE_11_DEPTH)

    # Эскиз40 → Вырез-Вытянуть22 (cut, through all)
    with BuildSketch(Plane.ZY.offset(13)):
        with BuildLine():
            ThreePointArc((15, -7.3), (12.3, -10), (15, -12.7))
            Line((15, -12.7), (15, -10))
            Line((15, -10), (15, -7.3))
        make_face()
        with BuildLine():
            Line((15, -10), (15, -12.7))
            ThreePointArc((15, -12.7), (16.909188309, -11.909188309), (17.7, -10))
            Line((17.7, -10), (15, -10))
        make_face()
        with BuildLine():
            Line((15, -7.3), (15, -10))
            Line((15, -10), (17.7, -10))
            ThreePointArc((17.7, -10), (16.909188309, -8.090811691), (15, -7.3))
        make_face()
        with BuildLine():
            ThreePointArc((35, -7.3), (33.090811691, -8.090811691), (32.3, -10))
            Line((32.3, -10), (35, -10))
            Line((35, -10), (35, -7.3))
        make_face()
        with BuildLine():
            Line((35, -10), (32.3, -10))
            ThreePointArc((32.3, -10), (33.090811691, -11.909188309), (35, -12.7))
            Line((35, -12.7), (35, -10))
        make_face()
        with BuildLine():
            Line((35, -7.3), (35, -10))
            Line((35, -10), (37.7, -10))
            ThreePointArc((37.7, -10), (36.909188309, -8.090811691), (35, -7.3))
        make_face()
        with BuildLine():
            Line((37.7, -10), (35, -10))
            Line((35, -10), (35, -12.7))
            ThreePointArc((35, -12.7), (36.909188309, -11.909188309), (37.7, -10))
        make_face()
    extrude(amount=-CUT_EXTRUDE_22_DEPTH, mode=Mode.SUBTRACT)

    # Эскиз41 → Вырез-Вытянуть23 (cut)
    with BuildSketch(Plane(origin=(4, 0, 0), x_dir=(0, 0, -1), z_dir=(1, 0, 0))):
        with Locations((-15, -10)):
            Circle(SKETCH_41_R)
    extrude(amount=-CUT_EXTRUDE_23_DEPTH, mode=Mode.SUBTRACT)

    # Скругление4
    fillet_4_edges = [cut_extrude_14_piece_1_1.edges().sort_by_distance(p)[0] for p in [
        (4, -10, 20),
    ]]
    fillet(fillet_4_edges, radius=FILLET_4_R)

    # Фаска8
    chamfer_8_edges = [cut_extrude_14_piece_1_1.edges().sort_by_distance(p)[0] for p in [
        (-3.5, -10, 32.3),
        (-4, -7.3, 15),
    ]]
    chamfer(chamfer_8_edges, length=CHAMFER_8_SIZE)

    # Скругление6
    fillet_6_edges = [cut_extrude_14_piece_1_1.edges().sort_by_distance(p)[0] for p in [
        (-3.5, -0.5, 3.5),
        (-3.5, -19.5, 3.5),
    ]]
    fillet(fillet_6_edges, radius=FILLET_6_R)

    # Эскиз43 → Вырез-Вытянуть25 (cut, through all)
    with BuildSketch(Plane(origin=(4, 0, 0), x_dir=(0, 0, -1), z_dir=(1, 0, 0))):
        with Locations((12, -9.999815)):
            Rectangle(SKETCH_43_W, SKETCH_43_H)
    extrude(amount=-CUT_EXTRUDE_25_DEPTH, mode=Mode.SUBTRACT)

    # Эскиз46 → Вырез-Вытянуть26 (cut, through all)
    with BuildSketch(Plane(origin=(4, 0, 0), x_dir=(0, 0, -1), z_dir=(1, 0, 0))):
        with Locations((4.5, -9.999815)):
            Rectangle(SKETCH_46_W, SKETCH_46_H)
    extrude(amount=-CUT_EXTRUDE_26_DEPTH, mode=Mode.SUBTRACT)

    # Скругление8
    fillet_8_edges = [cut_extrude_14_piece_1_1.edges().sort_by_distance(p)[0] for p in [
        (-3.5, -17.499815, -3.5),
        (-3.5, -2.499815, -3.5),
    ]]
    fillet(fillet_8_edges, radius=FILLET_8_R)

    # Эскиз48 → Бобышка-Вытянуть12 (add)
    with BuildSketch(Plane.XZ.offset(2.499815)):
        with Locations(Location((-3.5, -15, 0), (0, 0, 90))):
            Circle(SKETCH_48_R)
        with Locations(Location((-3.5, -15, 0), (0, 0, 270))):
            Circle(SKETCH_48_R_2, mode=Mode.SUBTRACT)
    extrude(amount=EXTRUDE_12_DEPTH)

    # Эскиз49 → Вырез-Вытянуть27 (cut, through all)
    with BuildSketch(Plane(origin=(4, 0, 0), x_dir=(0, 0, -1), z_dir=(1, 0, 0))):
        with Locations((15.518106741, -9.999815)):
            Rectangle(SKETCH_49_W, SKETCH_49_H)
    extrude(amount=-CUT_EXTRUDE_27_DEPTH, mode=Mode.SUBTRACT)

    # Эскиз51 → Бобышка-Вытянуть14 (add, two sides: drawn at the far end of the back side and taken through both)
    with BuildSketch(Plane(origin=(0, 7.5, 0), x_dir=(1, 0, 0), z_dir=(0, 1, 0)).offset(-EXTRUDE_14_DEPTH_BACK)):
        with BuildLine():
            Line((-11, -3.5), (4, -3.5))
            Line((4, -3.5), (4, 18.5))
            ThreePointArc((4, 18.5), (-3.5, 26), (-11, 18.5))
            Line((-11, 18.5), (-11, -3.5))
        make_face()
        with Locations(Location((-3.5, 15, 0), (0, 0, 90))):
            Circle(SKETCH_51_R, mode=Mode.SUBTRACT)
    extrude(amount=EXTRUDE_14_DEPTH + EXTRUDE_14_DEPTH_BACK)

    # Эскиз52 → Вырез-Вытянуть28 (cut)
    with BuildSketch(Plane(origin=(0, 15.5, 0), x_dir=(1, 0, 0), z_dir=(0, 1, 0))):
        with BuildLine():
            Line((-11, 18.5), (-11, -3.5))
            Line((-11, -3.5), (4, -3.5))
            Line((4, -3.5), (4, 18.5))
            ThreePointArc((4, 18.5), (-3.5, 26), (-11, 18.5))
        make_face()
        with Locations(Location((-3.5, 15, 0), (0, 0, 90))):
            Circle(SKETCH_52_R, mode=Mode.SUBTRACT)
    extrude(amount=-CUT_EXTRUDE_28_DEPTH, mode=Mode.SUBTRACT)

    # Скругление9
    fillet_9_edges = [cut_extrude_14_piece_1_1.edges().sort_by_distance(p)[0] for p in [
        (-3.5, 7.5, 3.5),
        (-3.5, -27.5, 3.5),
    ]]
    fillet(fillet_9_edges, radius=FILLET_9_R)

    # Эскиз54 → Вырез-Вытянуть29 (cut)
    with BuildSketch(Plane.ZY.offset(13)):
        with Locations((15, -10)):
            Circle(SKETCH_54_R)
        with Locations((35, -10)):
            Circle(SKETCH_54_R)
    extrude(amount=-CUT_EXTRUDE_29_DEPTH, mode=Mode.SUBTRACT)

    # Эскиз55 → Вырез-Вытянуть30 (cut)
    with BuildSketch(Plane.XZ.offset(27.5)):
        Polygon((-3.5, -10.150257739), (-7.7, -12.575128869), (-7.7, -17.424871131), (-3.5, -19.849742261), (0.7, -17.424871131), (0.7, -12.575128869), align=None)
    extrude(amount=-CUT_EXTRUDE_30_DEPTH, mode=Mode.SUBTRACT)

    # Эскиз56 → Вырез-Вытянуть31 (cut)
    with BuildSketch(Plane(origin=(0, 7.5, 0), x_dir=(1, 0, 0), z_dir=(0, 1, 0))):
        with Locations(Location((-3.5, 15, 0), (0, 0, 270))):
            Circle(SKETCH_56_R)
    extrude(amount=-CUT_EXTRUDE_31_DEPTH, mode=Mode.SUBTRACT)

    # Скругление10
    fillet_10_edges = [cut_extrude_14_piece_1_1.edges().sort_by_distance(p)[0] for p in [
        (-3.5, 7.5, -20),
    ]]
    fillet(fillet_10_edges, radius=FILLET_10_R)


solid = cut_extrude_14_piece_1_1.part
